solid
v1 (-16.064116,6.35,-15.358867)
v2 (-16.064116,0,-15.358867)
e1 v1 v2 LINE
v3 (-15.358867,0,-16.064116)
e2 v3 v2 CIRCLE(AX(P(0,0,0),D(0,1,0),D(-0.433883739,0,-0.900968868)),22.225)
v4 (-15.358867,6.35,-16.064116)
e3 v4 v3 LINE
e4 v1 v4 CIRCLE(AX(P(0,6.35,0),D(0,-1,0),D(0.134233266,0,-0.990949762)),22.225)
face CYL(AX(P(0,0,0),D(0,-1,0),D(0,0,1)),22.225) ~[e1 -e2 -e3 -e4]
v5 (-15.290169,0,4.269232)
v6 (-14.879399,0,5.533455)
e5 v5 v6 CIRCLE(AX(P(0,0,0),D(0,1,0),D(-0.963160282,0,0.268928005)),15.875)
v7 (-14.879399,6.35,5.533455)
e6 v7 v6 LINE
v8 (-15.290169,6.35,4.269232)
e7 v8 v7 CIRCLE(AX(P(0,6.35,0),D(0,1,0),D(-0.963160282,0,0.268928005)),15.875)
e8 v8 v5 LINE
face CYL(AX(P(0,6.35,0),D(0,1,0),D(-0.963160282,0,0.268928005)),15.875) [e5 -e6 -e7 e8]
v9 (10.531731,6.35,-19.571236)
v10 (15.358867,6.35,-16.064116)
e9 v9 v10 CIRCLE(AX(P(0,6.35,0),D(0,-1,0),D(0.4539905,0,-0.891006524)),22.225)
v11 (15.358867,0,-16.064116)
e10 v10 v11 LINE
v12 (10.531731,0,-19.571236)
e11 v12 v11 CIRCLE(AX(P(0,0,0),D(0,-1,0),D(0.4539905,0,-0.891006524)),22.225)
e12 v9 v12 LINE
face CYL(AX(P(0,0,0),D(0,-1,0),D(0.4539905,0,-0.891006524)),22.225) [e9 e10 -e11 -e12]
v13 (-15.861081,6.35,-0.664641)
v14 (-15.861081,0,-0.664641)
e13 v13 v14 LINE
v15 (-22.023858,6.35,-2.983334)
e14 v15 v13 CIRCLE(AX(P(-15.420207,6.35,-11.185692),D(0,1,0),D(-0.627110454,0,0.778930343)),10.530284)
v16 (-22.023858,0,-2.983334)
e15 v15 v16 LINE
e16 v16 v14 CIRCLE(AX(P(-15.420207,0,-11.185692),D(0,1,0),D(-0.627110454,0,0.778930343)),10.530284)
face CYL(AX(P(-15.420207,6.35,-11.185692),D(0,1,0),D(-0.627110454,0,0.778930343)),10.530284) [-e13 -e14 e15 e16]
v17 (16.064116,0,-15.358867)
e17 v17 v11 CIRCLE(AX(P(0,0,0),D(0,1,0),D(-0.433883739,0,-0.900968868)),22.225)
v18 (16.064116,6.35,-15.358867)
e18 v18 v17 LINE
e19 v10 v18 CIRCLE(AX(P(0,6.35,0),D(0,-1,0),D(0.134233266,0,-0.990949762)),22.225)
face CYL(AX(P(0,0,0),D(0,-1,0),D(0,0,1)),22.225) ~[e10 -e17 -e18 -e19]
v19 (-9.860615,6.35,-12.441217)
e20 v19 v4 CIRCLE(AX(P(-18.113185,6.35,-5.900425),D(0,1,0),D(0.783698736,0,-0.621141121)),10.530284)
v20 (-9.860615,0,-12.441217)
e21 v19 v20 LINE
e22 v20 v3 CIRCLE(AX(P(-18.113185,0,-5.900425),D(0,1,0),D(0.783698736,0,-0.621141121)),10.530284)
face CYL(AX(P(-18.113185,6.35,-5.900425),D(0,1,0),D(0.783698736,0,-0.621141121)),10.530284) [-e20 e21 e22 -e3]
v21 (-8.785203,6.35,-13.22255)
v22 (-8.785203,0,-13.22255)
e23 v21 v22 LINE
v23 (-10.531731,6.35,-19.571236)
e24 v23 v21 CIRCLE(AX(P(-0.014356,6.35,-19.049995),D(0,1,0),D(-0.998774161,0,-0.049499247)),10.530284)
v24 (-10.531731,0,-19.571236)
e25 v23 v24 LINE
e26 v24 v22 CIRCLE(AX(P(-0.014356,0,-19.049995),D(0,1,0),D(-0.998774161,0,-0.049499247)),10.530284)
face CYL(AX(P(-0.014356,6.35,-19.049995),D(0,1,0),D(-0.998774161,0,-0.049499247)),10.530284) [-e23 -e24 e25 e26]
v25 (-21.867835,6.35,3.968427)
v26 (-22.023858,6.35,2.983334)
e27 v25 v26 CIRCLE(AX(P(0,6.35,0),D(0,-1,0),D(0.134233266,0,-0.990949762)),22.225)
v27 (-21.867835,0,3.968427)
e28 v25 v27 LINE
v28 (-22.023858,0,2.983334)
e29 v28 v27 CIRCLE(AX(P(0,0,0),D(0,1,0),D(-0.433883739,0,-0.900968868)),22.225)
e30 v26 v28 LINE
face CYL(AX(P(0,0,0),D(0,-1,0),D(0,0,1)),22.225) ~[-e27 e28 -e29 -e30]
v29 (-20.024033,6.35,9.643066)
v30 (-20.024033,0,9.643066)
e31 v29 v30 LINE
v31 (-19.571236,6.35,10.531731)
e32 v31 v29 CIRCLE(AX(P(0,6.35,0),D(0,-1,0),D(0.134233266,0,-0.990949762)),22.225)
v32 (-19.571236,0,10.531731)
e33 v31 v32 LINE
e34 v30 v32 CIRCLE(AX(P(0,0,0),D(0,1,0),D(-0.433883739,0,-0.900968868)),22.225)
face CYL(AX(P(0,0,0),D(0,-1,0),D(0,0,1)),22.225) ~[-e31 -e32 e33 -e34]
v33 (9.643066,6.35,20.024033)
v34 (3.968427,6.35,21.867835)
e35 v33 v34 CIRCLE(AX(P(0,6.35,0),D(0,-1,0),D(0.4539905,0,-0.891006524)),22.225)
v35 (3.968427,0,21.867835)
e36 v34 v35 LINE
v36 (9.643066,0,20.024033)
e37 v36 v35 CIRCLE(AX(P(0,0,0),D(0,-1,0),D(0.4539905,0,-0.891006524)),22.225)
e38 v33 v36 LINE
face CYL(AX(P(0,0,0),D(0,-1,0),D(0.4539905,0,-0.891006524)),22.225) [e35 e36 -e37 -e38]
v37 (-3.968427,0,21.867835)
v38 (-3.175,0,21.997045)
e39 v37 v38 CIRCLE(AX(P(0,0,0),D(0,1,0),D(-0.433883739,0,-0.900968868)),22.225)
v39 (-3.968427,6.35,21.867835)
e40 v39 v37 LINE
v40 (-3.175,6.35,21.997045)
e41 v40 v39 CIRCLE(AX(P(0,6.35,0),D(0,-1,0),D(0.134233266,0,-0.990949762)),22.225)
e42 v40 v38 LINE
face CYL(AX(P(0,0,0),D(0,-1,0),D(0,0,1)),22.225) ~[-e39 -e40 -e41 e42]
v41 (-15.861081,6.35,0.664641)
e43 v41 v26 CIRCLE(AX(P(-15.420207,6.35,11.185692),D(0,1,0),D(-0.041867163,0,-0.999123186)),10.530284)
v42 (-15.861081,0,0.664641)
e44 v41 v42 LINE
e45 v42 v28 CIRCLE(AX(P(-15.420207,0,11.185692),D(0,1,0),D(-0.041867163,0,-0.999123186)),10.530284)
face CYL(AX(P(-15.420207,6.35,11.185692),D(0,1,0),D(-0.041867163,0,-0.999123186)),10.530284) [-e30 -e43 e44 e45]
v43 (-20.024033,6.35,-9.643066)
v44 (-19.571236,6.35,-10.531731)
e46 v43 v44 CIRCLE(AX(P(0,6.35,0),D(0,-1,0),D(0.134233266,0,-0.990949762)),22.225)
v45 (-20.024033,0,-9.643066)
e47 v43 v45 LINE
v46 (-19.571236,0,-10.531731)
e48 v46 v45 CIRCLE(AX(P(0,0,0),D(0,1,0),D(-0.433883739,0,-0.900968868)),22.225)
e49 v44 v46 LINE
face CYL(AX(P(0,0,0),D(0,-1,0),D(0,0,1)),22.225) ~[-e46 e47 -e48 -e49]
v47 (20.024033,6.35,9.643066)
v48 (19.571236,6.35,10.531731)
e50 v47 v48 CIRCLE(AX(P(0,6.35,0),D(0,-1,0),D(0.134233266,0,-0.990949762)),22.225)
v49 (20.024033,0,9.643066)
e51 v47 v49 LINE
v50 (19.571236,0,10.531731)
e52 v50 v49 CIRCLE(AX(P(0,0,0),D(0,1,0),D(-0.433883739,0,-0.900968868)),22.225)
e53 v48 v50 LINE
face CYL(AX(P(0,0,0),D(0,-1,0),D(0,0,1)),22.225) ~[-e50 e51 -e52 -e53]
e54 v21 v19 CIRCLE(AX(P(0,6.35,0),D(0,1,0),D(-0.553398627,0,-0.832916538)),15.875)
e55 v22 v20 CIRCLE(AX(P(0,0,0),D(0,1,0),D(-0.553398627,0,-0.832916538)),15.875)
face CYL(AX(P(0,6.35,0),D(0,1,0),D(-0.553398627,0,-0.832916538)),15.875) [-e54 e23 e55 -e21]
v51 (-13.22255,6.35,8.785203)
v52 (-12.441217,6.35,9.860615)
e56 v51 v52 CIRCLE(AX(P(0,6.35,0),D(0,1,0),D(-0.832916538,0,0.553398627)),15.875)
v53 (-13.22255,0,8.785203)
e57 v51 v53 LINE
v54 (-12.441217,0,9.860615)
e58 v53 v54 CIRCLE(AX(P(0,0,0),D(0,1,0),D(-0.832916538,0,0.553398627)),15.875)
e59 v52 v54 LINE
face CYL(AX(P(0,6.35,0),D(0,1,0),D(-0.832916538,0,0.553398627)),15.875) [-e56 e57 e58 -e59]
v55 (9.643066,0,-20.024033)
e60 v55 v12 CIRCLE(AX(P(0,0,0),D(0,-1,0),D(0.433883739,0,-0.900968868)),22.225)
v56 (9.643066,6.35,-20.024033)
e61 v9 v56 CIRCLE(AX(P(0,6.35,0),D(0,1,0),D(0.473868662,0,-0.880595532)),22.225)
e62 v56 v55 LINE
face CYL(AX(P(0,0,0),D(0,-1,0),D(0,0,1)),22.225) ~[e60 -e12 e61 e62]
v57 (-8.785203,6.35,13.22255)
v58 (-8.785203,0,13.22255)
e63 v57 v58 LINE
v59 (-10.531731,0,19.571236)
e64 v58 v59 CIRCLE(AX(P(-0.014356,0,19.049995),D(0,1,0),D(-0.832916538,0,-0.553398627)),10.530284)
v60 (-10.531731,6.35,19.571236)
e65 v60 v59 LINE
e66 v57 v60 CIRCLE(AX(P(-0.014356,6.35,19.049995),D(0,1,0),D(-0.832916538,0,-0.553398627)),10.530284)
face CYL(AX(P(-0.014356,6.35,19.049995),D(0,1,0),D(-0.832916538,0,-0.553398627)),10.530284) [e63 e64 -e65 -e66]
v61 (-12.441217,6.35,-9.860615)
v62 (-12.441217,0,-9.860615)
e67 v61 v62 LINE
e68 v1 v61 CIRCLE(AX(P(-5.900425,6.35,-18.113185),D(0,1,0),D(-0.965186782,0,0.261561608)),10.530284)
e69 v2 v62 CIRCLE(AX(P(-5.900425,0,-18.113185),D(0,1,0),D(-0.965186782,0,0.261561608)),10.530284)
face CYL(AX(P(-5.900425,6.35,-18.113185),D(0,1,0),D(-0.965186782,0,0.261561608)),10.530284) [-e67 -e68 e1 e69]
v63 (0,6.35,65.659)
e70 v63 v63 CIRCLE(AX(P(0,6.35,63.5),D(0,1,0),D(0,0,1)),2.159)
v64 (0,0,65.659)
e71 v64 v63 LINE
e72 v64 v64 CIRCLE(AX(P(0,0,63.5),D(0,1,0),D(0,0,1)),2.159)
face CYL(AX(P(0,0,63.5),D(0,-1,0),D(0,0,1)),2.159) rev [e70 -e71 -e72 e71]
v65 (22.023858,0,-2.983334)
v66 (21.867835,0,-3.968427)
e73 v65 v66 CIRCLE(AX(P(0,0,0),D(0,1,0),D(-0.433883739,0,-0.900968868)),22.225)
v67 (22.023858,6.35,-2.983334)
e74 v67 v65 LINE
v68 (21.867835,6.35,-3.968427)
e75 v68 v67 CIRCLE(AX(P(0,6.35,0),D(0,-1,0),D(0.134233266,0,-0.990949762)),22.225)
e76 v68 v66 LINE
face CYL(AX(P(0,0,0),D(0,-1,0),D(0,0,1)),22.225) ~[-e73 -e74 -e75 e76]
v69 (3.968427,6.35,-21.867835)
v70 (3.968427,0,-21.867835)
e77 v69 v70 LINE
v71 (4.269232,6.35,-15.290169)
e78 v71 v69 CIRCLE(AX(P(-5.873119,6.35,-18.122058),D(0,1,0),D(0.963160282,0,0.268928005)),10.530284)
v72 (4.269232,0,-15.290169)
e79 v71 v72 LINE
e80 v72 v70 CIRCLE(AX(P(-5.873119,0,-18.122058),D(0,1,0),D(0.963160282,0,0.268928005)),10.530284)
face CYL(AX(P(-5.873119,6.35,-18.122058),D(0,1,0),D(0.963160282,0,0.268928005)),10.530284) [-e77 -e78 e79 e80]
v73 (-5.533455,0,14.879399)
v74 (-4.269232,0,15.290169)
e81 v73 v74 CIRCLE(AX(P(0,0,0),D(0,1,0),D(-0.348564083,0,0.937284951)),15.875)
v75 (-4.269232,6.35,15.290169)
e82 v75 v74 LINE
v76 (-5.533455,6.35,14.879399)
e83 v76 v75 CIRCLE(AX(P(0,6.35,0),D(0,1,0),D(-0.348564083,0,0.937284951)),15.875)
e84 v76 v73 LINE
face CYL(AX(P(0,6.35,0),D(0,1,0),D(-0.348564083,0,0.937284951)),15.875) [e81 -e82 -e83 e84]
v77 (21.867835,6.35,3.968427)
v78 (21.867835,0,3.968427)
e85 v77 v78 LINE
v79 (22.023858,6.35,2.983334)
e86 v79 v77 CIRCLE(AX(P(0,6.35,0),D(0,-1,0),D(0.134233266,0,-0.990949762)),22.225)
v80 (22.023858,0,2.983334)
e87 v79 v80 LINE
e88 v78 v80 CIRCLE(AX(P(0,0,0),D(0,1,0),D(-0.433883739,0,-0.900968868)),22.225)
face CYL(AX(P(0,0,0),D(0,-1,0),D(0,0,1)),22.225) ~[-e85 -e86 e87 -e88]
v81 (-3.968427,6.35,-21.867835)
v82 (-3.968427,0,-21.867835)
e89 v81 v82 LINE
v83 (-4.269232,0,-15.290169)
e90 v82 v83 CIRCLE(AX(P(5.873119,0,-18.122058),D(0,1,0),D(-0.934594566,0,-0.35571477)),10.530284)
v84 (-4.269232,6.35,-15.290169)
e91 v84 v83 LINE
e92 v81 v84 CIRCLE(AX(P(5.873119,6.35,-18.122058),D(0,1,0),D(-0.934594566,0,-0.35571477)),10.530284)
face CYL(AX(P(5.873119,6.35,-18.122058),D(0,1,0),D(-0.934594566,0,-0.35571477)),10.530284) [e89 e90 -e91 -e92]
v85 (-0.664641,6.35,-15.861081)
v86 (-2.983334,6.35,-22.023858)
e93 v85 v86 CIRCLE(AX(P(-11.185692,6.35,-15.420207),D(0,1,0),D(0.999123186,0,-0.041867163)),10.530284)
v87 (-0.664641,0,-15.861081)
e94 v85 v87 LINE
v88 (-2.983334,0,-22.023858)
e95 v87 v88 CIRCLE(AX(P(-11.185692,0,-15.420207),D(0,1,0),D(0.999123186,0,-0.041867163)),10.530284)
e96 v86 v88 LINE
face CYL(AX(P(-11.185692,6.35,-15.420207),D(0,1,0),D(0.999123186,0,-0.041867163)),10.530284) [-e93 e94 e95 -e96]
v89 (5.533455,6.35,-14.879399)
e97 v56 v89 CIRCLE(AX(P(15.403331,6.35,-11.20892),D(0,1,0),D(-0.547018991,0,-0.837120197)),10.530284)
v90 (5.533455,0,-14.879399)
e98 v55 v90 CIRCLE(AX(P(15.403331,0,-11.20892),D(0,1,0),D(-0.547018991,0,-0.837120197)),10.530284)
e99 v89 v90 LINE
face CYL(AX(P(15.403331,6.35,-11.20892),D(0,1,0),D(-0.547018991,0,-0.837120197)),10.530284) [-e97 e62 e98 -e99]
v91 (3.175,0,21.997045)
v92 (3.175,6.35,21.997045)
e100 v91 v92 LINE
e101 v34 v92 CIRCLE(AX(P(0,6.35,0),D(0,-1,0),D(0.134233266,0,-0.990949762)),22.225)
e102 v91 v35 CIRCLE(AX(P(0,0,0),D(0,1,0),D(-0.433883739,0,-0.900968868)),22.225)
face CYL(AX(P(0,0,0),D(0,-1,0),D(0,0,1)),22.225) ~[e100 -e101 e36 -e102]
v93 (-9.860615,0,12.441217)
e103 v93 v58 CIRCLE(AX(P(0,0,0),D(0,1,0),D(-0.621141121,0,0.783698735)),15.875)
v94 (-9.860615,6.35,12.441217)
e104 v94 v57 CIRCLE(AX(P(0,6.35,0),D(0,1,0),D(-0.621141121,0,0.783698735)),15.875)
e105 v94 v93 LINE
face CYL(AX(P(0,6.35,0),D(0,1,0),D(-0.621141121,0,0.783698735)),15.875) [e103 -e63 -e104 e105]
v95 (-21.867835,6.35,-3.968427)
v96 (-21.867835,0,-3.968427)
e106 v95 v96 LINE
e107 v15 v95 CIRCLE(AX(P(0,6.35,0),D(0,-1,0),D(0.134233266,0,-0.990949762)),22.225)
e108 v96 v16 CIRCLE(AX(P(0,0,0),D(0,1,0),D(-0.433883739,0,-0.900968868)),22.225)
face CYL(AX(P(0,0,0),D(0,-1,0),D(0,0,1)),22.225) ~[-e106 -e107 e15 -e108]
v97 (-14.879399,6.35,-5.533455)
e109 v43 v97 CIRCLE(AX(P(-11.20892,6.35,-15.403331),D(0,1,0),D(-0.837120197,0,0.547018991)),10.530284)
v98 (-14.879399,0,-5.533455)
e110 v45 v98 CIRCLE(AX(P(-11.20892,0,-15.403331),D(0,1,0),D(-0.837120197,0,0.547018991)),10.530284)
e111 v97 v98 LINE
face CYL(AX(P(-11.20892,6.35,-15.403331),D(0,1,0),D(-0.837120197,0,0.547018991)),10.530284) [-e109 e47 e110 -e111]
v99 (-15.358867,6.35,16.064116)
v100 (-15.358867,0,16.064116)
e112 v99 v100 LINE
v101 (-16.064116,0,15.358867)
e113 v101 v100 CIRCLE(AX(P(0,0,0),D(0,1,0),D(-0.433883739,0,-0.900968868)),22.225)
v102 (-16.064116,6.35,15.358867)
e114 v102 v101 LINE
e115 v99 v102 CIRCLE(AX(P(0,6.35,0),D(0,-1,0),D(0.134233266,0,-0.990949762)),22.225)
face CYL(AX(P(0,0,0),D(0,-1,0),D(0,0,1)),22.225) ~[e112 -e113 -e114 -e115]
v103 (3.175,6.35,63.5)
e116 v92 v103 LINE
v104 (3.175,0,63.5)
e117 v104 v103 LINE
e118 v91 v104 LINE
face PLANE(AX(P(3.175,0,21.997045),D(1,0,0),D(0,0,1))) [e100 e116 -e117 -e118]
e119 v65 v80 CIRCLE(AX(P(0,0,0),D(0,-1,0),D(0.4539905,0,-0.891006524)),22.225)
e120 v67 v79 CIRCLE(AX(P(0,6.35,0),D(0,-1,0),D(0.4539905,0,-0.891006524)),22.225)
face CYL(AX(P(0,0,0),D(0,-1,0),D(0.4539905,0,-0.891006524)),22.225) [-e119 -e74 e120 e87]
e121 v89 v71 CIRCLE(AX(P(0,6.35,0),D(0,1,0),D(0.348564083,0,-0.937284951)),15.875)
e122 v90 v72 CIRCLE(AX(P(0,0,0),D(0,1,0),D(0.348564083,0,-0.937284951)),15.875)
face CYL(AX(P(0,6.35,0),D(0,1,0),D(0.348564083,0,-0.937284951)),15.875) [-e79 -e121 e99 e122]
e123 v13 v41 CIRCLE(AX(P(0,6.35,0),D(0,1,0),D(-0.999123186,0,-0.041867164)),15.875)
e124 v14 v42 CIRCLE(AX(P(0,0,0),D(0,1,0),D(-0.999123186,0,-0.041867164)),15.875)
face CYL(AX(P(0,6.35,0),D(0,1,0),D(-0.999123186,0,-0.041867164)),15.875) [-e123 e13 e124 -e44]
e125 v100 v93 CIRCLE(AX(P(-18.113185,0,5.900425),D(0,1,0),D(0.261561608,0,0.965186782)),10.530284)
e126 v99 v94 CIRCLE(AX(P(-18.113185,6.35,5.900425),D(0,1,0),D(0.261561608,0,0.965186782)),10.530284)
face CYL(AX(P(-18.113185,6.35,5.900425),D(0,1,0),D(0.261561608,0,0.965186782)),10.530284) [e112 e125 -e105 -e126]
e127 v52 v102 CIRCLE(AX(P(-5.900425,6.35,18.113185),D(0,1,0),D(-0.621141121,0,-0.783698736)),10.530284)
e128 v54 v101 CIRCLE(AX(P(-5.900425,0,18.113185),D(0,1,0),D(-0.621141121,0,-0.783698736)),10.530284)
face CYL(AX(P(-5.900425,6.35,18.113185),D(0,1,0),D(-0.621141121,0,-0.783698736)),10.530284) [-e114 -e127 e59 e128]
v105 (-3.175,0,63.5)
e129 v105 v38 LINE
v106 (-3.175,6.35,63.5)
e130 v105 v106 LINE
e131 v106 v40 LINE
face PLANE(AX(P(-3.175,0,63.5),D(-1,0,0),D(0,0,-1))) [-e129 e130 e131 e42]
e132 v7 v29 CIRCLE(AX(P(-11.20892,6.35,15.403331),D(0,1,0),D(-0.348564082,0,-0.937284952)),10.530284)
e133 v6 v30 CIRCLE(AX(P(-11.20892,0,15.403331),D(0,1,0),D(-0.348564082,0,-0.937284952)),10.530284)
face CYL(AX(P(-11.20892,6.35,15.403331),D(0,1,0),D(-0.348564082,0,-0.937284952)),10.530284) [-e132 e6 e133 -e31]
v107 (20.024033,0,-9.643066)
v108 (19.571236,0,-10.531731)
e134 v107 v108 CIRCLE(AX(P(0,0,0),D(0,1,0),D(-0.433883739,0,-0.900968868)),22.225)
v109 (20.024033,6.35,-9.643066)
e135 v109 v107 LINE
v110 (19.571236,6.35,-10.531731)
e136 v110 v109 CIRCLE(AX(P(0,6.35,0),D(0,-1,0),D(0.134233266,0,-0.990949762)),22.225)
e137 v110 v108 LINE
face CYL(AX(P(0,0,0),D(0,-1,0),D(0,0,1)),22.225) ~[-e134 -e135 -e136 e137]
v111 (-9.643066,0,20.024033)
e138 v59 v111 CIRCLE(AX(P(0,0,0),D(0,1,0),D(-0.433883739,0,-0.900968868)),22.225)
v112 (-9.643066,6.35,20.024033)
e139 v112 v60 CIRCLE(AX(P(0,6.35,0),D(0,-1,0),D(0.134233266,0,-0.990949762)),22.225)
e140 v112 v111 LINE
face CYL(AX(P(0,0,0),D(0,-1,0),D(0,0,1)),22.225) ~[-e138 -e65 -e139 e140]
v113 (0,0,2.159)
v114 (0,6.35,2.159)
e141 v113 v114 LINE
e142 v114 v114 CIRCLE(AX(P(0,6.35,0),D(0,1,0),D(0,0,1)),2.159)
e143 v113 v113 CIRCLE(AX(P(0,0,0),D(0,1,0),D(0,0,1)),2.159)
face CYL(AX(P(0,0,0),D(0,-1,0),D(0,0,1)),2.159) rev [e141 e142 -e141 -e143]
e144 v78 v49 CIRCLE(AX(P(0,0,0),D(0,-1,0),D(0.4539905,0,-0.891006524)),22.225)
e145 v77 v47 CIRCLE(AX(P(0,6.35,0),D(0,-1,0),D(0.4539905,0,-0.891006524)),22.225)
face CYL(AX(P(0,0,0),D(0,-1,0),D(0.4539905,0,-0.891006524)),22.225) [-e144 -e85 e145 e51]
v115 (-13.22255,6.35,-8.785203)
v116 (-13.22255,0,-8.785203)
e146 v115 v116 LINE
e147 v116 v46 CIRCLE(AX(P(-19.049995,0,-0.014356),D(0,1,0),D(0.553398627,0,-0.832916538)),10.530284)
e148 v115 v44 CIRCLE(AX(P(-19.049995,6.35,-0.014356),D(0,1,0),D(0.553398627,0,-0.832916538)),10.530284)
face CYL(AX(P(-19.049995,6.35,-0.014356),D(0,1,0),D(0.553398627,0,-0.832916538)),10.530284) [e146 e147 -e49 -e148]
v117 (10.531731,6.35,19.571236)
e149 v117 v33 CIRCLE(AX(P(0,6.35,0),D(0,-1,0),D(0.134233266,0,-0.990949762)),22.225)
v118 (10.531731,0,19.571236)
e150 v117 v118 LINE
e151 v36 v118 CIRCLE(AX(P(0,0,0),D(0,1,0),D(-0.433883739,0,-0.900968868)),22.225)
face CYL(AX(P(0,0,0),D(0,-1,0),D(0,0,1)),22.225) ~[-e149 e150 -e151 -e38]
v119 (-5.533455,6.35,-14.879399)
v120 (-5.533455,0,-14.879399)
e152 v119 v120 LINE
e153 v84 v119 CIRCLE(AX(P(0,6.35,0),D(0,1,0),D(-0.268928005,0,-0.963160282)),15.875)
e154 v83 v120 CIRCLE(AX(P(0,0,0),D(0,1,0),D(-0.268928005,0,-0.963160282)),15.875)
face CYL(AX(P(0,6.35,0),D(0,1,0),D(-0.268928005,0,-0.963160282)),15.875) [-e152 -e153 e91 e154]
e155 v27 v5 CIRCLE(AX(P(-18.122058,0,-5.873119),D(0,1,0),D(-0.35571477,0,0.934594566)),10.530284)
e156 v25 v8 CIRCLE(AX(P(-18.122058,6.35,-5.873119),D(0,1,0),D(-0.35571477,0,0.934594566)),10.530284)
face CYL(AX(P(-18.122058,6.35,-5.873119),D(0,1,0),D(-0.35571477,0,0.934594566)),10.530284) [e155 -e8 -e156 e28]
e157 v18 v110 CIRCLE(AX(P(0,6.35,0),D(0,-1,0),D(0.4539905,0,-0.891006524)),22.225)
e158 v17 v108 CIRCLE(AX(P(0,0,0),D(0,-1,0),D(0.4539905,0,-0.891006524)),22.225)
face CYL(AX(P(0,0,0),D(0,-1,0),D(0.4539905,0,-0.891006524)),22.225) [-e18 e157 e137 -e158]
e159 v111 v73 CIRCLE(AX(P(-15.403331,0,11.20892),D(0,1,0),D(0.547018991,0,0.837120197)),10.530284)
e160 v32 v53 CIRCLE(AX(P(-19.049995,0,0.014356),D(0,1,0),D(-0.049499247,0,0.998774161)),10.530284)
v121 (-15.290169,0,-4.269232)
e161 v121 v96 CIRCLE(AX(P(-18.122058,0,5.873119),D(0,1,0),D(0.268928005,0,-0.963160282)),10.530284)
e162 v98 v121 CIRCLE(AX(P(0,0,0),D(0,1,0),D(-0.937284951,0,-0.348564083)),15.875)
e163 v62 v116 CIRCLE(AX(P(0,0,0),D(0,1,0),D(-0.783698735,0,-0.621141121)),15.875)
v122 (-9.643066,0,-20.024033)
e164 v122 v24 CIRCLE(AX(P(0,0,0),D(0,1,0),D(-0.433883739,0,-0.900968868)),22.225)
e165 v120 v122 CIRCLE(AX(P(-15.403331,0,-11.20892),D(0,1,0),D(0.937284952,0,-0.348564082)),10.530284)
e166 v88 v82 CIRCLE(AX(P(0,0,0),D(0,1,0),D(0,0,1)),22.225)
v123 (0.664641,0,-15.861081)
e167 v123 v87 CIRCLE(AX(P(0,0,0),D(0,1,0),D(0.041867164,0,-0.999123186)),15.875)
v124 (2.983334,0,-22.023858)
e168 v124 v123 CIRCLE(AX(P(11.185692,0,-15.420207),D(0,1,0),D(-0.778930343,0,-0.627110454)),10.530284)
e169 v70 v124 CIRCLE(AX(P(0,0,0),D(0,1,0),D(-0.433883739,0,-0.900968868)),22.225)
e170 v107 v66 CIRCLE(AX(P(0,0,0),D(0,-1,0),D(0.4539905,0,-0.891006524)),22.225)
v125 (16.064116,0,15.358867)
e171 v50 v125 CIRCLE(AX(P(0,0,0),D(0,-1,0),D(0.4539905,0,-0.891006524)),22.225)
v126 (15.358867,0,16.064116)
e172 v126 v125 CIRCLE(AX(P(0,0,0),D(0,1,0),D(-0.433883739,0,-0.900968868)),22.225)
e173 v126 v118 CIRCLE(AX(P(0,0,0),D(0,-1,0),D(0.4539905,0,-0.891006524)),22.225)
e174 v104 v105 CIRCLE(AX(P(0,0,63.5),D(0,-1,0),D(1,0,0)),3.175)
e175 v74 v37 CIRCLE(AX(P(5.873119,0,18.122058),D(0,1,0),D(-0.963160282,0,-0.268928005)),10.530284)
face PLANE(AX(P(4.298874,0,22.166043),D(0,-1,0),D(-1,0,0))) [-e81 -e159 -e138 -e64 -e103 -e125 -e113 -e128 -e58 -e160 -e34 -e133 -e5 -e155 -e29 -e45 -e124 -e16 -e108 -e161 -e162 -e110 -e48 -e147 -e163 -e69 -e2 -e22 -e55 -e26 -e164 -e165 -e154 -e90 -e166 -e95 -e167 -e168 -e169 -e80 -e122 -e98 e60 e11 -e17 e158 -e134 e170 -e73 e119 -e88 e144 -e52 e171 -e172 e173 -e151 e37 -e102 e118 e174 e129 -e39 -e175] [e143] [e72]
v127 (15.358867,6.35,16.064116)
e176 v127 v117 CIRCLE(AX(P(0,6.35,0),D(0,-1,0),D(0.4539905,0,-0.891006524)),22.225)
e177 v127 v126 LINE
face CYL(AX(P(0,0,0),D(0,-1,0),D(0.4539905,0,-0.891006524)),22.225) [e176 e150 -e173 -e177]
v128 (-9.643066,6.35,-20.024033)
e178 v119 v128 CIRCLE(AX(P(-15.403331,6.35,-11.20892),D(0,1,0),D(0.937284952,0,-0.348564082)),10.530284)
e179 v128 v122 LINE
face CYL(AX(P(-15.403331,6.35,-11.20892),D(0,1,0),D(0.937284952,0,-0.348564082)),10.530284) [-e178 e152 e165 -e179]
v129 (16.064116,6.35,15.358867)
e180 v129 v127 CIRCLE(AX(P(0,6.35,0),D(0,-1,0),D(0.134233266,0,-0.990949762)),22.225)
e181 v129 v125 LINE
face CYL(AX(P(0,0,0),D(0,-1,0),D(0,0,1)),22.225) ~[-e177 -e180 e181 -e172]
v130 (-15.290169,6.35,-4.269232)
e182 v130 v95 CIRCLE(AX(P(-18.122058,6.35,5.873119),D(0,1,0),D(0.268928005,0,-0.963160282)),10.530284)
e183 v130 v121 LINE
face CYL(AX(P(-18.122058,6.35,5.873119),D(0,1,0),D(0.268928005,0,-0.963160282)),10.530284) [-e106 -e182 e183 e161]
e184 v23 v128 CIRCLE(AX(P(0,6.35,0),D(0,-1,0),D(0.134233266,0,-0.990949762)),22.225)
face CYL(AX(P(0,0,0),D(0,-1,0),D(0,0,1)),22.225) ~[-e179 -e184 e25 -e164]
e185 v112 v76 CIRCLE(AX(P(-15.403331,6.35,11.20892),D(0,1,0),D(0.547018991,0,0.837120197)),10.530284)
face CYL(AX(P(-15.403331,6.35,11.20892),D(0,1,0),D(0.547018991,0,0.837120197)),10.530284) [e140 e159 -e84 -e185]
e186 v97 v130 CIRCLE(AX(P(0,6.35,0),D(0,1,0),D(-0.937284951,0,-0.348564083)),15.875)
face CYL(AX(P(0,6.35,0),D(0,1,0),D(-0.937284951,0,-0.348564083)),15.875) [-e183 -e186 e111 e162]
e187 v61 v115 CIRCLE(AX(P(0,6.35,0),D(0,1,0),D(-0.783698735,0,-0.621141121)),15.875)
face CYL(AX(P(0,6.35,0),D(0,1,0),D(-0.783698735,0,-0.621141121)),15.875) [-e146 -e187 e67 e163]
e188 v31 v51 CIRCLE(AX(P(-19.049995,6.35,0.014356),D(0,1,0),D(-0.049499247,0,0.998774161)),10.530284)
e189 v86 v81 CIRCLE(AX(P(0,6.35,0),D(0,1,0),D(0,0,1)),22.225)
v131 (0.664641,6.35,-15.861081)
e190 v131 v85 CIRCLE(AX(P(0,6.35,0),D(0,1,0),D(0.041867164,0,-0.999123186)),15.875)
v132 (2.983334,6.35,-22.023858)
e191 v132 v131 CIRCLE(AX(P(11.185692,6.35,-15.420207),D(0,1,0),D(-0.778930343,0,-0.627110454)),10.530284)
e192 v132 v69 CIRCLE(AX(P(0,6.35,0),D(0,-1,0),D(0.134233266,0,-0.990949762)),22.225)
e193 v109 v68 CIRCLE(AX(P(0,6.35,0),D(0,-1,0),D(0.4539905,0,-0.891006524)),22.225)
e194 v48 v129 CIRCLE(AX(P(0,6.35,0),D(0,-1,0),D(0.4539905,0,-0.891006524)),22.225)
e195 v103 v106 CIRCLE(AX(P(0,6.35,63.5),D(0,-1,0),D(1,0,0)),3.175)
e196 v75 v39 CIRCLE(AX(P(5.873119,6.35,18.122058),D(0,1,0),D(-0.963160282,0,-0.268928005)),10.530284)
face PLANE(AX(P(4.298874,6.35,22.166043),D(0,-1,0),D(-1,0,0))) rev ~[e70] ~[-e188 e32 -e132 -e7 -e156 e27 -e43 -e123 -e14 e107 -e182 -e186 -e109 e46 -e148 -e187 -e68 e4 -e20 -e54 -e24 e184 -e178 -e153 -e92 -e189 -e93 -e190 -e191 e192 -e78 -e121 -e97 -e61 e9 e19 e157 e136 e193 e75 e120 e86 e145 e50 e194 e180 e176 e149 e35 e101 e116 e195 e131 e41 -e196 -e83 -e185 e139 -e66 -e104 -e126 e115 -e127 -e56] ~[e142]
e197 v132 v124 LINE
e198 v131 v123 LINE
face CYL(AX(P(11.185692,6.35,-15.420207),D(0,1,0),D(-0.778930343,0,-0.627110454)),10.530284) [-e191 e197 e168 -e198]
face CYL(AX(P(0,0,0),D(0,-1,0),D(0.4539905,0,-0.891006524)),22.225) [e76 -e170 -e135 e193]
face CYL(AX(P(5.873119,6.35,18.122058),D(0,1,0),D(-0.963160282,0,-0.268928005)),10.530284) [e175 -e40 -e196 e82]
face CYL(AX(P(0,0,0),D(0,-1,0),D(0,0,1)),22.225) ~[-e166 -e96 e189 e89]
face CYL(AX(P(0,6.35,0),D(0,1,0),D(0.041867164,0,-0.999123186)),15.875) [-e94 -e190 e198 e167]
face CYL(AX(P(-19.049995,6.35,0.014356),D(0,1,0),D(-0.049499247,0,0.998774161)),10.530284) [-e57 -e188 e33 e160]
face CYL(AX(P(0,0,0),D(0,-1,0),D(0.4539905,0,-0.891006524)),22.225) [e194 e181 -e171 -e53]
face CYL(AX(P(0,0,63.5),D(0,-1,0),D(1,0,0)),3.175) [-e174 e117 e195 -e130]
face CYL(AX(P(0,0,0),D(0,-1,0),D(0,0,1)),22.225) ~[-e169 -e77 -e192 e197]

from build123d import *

# Parameters (mm, degrees)
SKETCH1_R           = 22.225
SKETCH1_R_2         = 2.159
BOSS_EXTRUDE1_DEPTH = 6.35
CUT_EXTRUDE1_DEPTH  = 33.065928179
CIRPATTERN1_COUNT   = 20
BOSS_EXTRUDE2_START = -6.35
SKETCH3_R           = 2.159
BOSS_EXTRUDE2_DEPTH = 6.35


with BuildPart() as part:
    # Sketch1 → Boss-Extrude1 (new body)
    with BuildSketch(Plane(origin=(0, 0, 0), x_dir=(1, 0, 0), z_dir=(0, 1, 0))):
        with Locations(Location((0, 0, 0), (0, 0, 270))):
            Circle(SKETCH1_R)
        with Locations(Location((0, 0, 0), (0, 0, 270))):
            Circle(SKETCH1_R_2, mode=Mode.SUBTRACT)
    extrude(amount=BOSS_EXTRUDE1_DEPTH)

    # Sketch2 → Cut-Extrude1 (cut, through all)
    with BuildSketch(Plane(origin=(0, 6.35, 0), x_dir=(1, 0, 0), z_dir=(0, 1, 0))):
        with BuildLine():
            ThreePointArc((0.664641226, 15.861080576), (0, 15.875), (-0.664641226, 15.861080576))
            ThreePointArc((-0.664641226, 15.861080576), (-1.329908729, 19.128362584), (-2.983334333, 22.023858455))
            ThreePointArc((-2.983334333, 22.023858455), (0, 22.225), (2.983334333, 22.023858455))
            ThreePointArc((2.983334333, 22.023858455), (1.329908729, 19.128362584), (0.664641226, 15.861080576))
        make_face()
    cut_extrude1 = extrude(amount=-CUT_EXTRUDE1_DEPTH, mode=Mode.SUBTRACT)

    # CirPattern1: Cut-Extrude1 ×20 about axis
    cirpattern1_axis = Axis((0, 0, 0), (0, 1, 0))
    for i in range(1, CIRPATTERN1_COUNT):
        add(cut_extrude1.rotate(cirpattern1_axis, i * 360 / CIRPATTERN1_COUNT), mode=Mode.SUBTRACT)

    # Sketch3 → Boss-Extrude2 (add)
    with BuildSketch(Plane(origin=(0, 6.35, 0), x_dir=(1, 0, 0), z_dir=(0, 1, 0)).offset(BOSS_EXTRUDE2_START)):
        with BuildLine():
            Line((3.175, -21.997045256), (3.175, -63.5))
            ThreePointArc((3.175, -63.5), (0, -66.675), (-3.175, -63.5))
            Line((-3.175, -63.5), (-3.175, 4.58754015))
            Line((-3.175, 4.58754015), (10.089938857, 19.80262))
            ThreePointArc((10.089938857, 19.80262), (21.926984622, -3.62739168), (3.175, -21.997045256))
        make_face()
        with Locations(Location((0, -63.5, 0), (0, 0, 270))):
            Circle(SKETCH3_R, mode=Mode.SUBTRACT)
        with Locations(Location((0, 0, 0), (0, 0, 270))):
            Circle(SKETCH3_R, mode=Mode.SUBTRACT)
    extrude(amount=BOSS_EXTRUDE2_DEPTH)


solid = part.part
